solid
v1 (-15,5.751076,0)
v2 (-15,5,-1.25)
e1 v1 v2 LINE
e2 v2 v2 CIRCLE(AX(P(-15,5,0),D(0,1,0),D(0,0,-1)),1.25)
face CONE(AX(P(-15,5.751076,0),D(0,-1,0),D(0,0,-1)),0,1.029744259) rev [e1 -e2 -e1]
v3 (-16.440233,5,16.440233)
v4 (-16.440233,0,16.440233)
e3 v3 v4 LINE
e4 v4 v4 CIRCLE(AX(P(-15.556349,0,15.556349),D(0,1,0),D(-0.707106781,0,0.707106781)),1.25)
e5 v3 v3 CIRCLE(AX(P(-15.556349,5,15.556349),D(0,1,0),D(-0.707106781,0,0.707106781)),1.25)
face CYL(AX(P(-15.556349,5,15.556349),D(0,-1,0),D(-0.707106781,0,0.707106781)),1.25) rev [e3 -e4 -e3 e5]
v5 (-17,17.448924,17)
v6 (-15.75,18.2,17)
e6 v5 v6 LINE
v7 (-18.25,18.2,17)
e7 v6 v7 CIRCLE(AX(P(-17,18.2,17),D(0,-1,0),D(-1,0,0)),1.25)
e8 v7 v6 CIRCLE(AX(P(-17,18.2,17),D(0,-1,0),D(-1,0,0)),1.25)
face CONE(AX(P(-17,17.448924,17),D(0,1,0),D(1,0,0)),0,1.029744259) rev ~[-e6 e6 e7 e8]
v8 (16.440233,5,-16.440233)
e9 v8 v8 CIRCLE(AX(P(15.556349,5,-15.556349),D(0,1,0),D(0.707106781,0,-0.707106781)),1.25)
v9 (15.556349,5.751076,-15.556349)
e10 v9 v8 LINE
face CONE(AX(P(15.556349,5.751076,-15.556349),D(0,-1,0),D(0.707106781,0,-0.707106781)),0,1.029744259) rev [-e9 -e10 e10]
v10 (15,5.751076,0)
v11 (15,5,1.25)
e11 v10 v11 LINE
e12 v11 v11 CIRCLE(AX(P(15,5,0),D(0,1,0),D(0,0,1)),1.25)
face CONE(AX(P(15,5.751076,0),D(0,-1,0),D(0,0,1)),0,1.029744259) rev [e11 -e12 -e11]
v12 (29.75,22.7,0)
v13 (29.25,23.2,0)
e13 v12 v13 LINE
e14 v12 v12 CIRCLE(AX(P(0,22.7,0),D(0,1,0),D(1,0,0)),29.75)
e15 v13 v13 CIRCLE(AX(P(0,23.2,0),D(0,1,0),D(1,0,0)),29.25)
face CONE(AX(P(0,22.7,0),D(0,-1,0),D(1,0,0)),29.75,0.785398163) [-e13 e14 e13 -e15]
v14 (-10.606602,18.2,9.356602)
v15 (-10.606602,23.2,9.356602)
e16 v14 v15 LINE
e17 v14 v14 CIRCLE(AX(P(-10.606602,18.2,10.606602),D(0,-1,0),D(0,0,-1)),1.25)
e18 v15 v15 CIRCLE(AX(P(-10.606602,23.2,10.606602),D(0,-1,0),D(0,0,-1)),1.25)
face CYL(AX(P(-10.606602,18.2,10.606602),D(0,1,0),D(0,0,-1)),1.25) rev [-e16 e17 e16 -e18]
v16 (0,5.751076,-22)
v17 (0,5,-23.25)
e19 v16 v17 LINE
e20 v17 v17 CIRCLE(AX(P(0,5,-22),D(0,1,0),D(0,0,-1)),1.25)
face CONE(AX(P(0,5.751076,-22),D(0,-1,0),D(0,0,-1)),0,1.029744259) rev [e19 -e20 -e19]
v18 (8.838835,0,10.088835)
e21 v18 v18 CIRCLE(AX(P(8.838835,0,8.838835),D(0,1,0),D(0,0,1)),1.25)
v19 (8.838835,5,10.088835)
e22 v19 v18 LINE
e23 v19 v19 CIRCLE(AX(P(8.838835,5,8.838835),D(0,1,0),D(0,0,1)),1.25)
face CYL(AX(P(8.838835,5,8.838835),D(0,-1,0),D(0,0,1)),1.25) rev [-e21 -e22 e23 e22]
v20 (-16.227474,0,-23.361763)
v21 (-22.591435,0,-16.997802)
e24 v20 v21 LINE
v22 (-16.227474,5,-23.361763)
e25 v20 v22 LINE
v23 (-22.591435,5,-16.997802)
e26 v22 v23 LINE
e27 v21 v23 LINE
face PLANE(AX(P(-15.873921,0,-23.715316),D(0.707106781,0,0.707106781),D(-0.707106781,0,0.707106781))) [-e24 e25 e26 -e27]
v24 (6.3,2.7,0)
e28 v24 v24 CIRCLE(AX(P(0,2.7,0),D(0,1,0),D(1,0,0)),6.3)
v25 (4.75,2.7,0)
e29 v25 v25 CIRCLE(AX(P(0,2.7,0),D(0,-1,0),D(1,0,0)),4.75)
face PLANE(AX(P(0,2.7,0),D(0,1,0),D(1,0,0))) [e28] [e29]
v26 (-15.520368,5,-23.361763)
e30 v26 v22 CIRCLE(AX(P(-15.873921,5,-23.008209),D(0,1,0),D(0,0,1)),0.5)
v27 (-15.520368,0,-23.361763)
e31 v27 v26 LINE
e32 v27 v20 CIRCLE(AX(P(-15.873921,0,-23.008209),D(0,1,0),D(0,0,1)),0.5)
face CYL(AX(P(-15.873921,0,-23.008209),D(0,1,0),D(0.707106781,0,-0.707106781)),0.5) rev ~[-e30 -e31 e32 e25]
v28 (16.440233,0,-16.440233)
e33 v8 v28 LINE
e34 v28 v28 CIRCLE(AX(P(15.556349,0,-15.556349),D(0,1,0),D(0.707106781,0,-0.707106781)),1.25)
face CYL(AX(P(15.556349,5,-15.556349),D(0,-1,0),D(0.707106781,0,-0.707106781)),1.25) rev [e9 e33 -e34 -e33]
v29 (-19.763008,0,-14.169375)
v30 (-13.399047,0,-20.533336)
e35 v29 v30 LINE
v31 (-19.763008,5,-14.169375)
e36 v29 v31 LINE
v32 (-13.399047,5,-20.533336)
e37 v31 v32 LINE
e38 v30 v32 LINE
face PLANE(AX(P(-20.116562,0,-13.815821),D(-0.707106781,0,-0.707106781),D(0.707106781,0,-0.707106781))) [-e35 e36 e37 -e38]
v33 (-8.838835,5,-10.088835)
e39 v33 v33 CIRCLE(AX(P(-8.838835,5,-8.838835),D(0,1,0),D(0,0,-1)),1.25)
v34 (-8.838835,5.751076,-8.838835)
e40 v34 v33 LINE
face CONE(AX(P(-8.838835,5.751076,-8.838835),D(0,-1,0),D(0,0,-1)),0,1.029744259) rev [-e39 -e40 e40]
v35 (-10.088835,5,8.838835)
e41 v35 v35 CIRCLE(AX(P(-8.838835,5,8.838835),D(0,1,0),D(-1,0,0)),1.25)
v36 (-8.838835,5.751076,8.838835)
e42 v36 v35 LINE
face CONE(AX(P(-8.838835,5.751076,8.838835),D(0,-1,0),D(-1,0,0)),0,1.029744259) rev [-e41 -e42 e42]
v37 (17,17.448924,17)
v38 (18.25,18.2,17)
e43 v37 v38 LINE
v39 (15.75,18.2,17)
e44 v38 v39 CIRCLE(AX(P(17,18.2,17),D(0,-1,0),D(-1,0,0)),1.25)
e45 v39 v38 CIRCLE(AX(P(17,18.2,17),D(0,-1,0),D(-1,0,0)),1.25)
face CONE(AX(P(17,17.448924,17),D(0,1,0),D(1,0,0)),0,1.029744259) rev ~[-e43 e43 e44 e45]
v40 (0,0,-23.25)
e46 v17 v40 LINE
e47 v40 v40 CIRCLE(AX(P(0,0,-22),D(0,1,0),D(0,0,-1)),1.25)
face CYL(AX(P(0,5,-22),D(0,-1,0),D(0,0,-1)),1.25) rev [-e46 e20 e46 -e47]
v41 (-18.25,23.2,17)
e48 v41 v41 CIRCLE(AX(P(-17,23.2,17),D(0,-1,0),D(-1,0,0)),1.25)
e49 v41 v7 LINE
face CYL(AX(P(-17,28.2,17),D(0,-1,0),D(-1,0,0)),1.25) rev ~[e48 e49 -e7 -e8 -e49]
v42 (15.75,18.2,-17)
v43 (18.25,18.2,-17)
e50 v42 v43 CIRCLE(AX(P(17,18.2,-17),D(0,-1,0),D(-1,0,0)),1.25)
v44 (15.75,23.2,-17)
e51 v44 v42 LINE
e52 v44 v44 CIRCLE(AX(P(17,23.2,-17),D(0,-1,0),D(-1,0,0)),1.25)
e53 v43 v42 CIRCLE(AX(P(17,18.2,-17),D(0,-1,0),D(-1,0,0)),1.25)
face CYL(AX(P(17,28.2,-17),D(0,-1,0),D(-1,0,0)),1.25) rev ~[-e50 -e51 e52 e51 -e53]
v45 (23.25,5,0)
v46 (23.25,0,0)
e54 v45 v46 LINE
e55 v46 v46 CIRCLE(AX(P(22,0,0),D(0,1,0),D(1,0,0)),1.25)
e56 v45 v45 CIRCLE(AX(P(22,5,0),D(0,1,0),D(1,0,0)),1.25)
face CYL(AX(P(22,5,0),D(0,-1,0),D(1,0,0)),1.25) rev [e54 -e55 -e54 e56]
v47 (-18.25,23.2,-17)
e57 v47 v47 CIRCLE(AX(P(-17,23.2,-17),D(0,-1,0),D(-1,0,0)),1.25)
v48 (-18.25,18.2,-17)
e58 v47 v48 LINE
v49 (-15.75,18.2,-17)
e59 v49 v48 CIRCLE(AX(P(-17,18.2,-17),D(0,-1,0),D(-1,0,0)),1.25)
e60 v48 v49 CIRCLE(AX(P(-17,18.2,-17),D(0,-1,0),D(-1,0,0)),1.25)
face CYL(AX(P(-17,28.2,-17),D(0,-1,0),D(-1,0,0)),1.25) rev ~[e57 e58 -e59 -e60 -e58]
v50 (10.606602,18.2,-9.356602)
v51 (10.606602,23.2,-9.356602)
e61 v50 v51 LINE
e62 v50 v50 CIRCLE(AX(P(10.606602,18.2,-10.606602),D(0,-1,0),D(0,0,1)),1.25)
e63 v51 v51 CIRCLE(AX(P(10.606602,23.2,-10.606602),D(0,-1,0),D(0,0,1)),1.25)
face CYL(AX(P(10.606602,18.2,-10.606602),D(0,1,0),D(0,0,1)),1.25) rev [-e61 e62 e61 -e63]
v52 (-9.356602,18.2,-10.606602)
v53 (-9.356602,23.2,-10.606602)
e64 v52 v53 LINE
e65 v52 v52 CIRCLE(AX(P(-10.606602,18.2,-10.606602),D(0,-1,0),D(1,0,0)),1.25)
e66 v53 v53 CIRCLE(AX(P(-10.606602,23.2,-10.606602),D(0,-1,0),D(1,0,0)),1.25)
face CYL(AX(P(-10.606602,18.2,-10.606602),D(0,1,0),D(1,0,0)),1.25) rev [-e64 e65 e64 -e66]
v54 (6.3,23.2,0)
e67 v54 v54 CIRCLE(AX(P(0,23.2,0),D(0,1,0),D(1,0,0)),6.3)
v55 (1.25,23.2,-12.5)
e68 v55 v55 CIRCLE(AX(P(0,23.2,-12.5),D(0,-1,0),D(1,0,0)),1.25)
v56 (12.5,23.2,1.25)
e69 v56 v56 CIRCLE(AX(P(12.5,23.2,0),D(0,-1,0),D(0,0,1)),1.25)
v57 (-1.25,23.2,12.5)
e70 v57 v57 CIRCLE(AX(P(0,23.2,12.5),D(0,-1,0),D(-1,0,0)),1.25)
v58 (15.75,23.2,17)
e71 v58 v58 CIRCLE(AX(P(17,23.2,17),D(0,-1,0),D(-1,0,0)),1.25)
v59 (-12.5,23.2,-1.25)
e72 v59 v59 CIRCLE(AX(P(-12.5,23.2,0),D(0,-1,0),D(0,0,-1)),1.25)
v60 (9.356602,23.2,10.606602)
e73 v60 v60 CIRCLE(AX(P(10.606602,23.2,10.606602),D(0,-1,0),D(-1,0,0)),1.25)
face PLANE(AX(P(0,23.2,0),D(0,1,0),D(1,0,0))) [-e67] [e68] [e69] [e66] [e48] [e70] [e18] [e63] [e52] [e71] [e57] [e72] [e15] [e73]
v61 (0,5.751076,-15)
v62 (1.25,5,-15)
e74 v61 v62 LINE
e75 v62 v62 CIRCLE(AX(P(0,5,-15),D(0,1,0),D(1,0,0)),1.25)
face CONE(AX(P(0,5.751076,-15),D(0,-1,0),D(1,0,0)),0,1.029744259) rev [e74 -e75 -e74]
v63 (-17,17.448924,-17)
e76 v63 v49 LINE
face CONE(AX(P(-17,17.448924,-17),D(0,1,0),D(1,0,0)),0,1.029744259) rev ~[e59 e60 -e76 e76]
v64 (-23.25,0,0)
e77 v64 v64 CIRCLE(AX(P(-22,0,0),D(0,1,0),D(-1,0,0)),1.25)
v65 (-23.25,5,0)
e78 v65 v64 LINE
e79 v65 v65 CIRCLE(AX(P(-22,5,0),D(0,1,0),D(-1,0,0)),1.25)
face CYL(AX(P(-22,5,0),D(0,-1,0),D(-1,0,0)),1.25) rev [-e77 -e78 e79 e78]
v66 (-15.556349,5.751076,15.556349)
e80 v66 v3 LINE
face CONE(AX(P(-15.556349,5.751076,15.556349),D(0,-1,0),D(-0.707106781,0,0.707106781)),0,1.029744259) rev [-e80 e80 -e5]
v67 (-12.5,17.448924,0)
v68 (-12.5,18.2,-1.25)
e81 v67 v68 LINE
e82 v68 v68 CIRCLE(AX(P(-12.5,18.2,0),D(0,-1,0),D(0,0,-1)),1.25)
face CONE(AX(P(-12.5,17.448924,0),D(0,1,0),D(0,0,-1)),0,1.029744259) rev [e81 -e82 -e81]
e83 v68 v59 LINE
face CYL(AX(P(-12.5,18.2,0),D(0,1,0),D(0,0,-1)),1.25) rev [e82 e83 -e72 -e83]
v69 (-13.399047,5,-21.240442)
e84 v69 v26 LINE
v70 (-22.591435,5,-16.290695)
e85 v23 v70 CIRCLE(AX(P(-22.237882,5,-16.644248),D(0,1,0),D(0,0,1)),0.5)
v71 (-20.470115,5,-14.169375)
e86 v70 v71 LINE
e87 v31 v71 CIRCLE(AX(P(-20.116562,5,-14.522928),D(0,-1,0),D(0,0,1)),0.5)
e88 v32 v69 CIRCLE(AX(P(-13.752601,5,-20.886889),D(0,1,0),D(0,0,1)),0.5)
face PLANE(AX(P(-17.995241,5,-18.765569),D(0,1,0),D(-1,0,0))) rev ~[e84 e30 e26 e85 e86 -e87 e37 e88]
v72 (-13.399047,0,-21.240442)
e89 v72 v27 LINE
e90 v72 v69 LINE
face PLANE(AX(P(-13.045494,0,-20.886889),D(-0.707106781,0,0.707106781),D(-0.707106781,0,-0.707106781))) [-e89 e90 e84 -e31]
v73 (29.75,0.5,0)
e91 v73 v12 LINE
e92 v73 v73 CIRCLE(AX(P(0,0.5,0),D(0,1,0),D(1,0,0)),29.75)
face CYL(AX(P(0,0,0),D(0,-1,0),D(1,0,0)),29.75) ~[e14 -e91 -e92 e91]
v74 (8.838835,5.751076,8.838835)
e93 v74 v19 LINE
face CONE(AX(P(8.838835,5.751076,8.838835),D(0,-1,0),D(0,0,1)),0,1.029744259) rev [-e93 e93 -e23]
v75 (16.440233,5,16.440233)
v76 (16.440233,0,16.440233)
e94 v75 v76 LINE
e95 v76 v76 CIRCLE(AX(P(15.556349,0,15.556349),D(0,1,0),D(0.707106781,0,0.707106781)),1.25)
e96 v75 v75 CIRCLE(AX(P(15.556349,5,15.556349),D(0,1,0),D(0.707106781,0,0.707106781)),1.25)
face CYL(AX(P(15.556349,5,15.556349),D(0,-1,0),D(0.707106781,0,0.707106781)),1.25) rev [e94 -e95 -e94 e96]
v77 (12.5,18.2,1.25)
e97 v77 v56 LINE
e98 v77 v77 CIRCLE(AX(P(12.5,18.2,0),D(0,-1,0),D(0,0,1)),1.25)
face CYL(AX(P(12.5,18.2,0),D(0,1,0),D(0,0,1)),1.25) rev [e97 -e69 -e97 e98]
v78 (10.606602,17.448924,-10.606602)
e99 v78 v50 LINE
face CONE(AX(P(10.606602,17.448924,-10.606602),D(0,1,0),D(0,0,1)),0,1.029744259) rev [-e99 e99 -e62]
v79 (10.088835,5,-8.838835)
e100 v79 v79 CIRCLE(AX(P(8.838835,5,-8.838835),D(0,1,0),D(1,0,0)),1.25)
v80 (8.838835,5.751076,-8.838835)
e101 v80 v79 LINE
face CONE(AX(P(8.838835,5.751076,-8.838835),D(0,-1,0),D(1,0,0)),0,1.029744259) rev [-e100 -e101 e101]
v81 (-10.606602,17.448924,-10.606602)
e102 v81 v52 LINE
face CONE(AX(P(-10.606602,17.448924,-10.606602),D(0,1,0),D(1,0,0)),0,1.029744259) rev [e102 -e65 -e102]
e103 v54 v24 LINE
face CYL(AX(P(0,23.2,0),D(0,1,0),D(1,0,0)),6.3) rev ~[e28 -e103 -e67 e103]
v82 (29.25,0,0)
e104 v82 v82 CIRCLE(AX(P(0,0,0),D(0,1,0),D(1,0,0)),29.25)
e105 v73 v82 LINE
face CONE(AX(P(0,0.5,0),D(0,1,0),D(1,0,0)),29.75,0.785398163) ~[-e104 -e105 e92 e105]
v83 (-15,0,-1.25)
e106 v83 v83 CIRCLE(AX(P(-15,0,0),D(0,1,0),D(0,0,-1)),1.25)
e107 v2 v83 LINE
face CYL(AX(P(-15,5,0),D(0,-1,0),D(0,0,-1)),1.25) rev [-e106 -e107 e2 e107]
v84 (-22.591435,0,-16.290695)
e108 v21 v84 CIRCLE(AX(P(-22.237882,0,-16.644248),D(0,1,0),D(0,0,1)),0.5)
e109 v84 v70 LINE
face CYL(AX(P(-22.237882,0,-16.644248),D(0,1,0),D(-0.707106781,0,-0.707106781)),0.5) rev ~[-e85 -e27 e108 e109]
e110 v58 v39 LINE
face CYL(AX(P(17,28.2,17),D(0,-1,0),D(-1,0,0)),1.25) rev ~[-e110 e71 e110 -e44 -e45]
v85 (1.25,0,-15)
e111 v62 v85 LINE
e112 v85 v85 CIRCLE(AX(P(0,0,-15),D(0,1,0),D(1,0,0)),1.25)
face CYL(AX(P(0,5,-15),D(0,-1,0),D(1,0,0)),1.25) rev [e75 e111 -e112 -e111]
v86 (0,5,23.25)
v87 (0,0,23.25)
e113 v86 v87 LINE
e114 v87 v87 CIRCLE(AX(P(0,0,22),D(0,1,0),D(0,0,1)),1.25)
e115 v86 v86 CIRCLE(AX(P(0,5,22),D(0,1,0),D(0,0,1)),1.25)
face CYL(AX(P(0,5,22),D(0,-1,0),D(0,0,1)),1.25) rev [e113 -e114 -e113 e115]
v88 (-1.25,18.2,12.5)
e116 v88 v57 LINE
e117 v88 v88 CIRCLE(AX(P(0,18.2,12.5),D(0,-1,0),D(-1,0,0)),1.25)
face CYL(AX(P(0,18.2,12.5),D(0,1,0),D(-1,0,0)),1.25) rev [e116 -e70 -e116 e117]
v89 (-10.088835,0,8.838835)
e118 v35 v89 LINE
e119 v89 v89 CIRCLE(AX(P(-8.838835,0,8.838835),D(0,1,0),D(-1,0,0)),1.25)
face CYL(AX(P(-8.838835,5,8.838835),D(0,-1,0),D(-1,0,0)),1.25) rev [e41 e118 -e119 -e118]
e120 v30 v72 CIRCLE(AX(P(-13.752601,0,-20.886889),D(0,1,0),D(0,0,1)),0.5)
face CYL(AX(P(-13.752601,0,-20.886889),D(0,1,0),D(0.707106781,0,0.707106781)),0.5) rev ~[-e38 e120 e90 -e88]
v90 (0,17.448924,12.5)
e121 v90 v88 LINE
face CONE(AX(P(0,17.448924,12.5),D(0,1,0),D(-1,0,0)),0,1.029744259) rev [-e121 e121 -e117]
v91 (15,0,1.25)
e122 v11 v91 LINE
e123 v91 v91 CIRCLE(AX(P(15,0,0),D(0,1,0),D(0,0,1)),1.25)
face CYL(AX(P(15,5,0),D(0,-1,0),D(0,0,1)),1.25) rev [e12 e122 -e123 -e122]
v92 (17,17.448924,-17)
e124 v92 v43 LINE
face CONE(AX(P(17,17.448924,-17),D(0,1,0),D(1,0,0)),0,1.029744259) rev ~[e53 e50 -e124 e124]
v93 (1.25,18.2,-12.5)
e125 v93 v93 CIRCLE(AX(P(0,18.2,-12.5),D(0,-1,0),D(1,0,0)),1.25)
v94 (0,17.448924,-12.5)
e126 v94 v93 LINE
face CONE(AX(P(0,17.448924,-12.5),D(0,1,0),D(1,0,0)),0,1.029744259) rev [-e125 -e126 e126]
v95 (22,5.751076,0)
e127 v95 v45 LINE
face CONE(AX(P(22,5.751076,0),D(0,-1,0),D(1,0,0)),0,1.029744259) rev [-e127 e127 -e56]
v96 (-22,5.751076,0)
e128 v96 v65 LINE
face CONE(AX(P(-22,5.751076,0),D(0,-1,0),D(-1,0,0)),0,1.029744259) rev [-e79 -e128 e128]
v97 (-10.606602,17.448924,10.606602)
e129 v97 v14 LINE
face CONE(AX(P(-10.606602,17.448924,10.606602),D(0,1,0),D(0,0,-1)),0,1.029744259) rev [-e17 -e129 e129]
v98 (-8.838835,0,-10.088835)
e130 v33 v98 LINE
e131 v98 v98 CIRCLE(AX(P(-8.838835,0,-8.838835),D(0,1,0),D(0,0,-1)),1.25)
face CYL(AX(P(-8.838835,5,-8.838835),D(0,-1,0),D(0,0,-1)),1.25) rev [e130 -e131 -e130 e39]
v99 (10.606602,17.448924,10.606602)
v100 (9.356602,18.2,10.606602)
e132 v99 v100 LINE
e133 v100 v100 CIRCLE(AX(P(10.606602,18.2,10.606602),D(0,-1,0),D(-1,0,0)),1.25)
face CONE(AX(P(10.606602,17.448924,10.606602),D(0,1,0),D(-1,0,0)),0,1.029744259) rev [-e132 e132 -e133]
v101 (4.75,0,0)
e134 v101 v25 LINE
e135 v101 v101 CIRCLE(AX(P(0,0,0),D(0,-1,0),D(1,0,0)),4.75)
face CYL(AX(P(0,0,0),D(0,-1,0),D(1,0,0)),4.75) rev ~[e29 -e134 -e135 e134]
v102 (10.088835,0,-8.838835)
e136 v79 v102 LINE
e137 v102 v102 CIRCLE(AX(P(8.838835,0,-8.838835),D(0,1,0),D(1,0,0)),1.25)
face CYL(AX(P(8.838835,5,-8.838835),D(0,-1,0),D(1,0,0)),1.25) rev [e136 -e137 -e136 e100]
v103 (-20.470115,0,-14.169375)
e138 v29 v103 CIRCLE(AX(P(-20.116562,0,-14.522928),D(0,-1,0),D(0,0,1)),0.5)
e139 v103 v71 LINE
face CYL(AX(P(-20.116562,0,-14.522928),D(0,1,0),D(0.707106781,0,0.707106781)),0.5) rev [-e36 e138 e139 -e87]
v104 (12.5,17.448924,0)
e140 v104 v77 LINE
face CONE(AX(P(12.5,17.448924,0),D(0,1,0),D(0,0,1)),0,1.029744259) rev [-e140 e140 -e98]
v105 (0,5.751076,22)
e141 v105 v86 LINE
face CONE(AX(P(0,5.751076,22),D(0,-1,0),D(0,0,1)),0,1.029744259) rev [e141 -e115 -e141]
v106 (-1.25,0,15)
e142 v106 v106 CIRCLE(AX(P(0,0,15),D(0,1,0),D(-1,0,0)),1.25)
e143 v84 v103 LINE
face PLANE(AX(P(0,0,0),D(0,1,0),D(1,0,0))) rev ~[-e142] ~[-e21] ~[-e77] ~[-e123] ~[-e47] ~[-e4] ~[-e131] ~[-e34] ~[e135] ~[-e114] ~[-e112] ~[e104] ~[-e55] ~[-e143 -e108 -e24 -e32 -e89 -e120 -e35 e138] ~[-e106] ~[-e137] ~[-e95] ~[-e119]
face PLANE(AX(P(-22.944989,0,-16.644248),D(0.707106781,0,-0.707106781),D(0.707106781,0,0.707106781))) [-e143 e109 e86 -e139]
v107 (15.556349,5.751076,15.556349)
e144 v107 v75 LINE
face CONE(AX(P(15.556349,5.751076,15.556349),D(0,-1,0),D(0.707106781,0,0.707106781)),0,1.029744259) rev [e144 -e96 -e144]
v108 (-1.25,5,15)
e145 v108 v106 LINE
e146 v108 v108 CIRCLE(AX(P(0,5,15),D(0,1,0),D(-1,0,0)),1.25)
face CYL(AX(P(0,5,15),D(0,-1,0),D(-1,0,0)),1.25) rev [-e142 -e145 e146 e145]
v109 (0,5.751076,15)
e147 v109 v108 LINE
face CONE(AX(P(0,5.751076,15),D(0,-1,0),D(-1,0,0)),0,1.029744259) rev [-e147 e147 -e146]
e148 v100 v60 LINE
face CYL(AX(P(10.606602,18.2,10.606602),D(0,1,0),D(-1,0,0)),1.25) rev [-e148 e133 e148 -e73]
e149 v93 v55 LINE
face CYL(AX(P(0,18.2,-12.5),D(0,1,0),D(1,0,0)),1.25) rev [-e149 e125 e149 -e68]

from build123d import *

# Parameters (mm, degrees)
SKETCH1_R                      = 29.75
BOSS_EXTRUDE1_DEPTH            = 23.2
SKETCH2_R                      = 6.3
CUT_EXTRUDE1_DEPTH             = 20.5
SKETCH3_R                      = 4.75
CUT_EXTRUDE2_DEPTH             = 2.7
CHAMFER1_SIZE                  = 0.5
CIRPATTERN1_COUNT              = 7
CIRPATTERN1_ANGLE              = 270
CIRPATTERN2_COUNT              = 4
CIRPATTERN3_COUNT              = 4
CUT_EXTRUDE3_DEPTH             = 5
FILLET1_R                      = 0.5
M3X0_5_TAPPED_HOLE4_D          = 2.5
M3X0_5_TAPPED_HOLE4_DEPTH      = 5
M3X0_5_TAPPED_HOLE4_TIP        = 0.751075774
M3X0_5_TAPPED_HOLE5_AT_2_COUNT = 2
M3X0_5_TAPPED_HOLE5_AT_2_PITCH = 10.774272925
CIRPATTERN4_COUNT              = 4


with BuildPart() as part:
    # Sketch1 → Boss-Extrude1 (new body)
    with BuildSketch(Plane(origin=(0, 0, 0), x_dir=(1, 0, 0), z_dir=(0, 1, 0))):
        Circle(SKETCH1_R)
    extrude(amount=BOSS_EXTRUDE1_DEPTH)

    # Sketch2 → Cut-Extrude1 (cut)
    with BuildSketch(Plane(origin=(0, 23.2, 0), x_dir=(1, 0, 0), z_dir=(0, 1, 0))):
        Circle(SKETCH2_R)
    extrude(amount=-CUT_EXTRUDE1_DEPTH, mode=Mode.SUBTRACT)

    # Sketch3 → Cut-Extrude2 (cut)
    with BuildSketch(Plane.XZ):
        Circle(SKETCH3_R)
    extrude(amount=-CUT_EXTRUDE2_DEPTH, mode=Mode.SUBTRACT)

    # Chamfer1
    chamfer1_edges = [part.edges().sort_by_distance(p)[0] for p in [
        (-29.75, 0, 0),
        (-29.75, 23.2, 0),
    ]]
    chamfer(chamfer1_edges, length=CHAMFER1_SIZE)

    # Sketch5 → M3x0.5 Tapped Hole1 (revolve, cut)
    with BuildSketch(Plane(origin=(0, 0, -22), x_dir=(0, 0, -1), z_dir=(1, 0, 0))):
        Polygon((0, 0), (0, 5.751075774), (1.25, 5), (1.25, 0), align=None)
    m3x0_5_tapped_hole1 = revolve(axis=Axis((0, -6.35, -22), (0, 1, 0)), mode=Mode.SUBTRACT)

    # CirPattern1: M3x0.5 Tapped Hole1 ×7 about axis
    cirpattern1_axis = Axis((0, 0, 0), (0, -1, 0))
    for i in range(1, CIRPATTERN1_COUNT):
        add(m3x0_5_tapped_hole1.rotate(cirpattern1_axis, i * CIRPATTERN1_ANGLE / (CIRPATTERN1_COUNT - 1)), mode=Mode.SUBTRACT)

    # Sketch7 → M3x0.5 Tapped Hole2 (revolve, cut)
    with BuildSketch(Plane(origin=(-8.838834765, 0, -8.838834765), x_dir=(0, 0, -1), z_dir=(1, 0, 0))):
        Polygon((0, 0), (0, 5.751075774), (1.25, 5), (1.25, 0), align=None)
    m3x0_5_tapped_hole2 = revolve(axis=Axis((-8.838834765, -6.35, -8.838834765), (0, 1, 0)), mode=Mode.SUBTRACT)

    # CirPattern2: M3x0.5 Tapped Hole2 ×4 about axis
    cirpattern2_axis = Axis((0, 0, 0), (0, 1, 0))
    for i in range(1, CIRPATTERN2_COUNT):
        add(m3x0_5_tapped_hole2.rotate(cirpattern2_axis, i * 360 / CIRPATTERN2_COUNT), mode=Mode.SUBTRACT)

    # Sketch9 → M3x0.5 Tapped Hole3 (revolve, cut)
    with BuildSketch(Plane(origin=(-15, 0, 0), x_dir=(0, 0, -1), z_dir=(1, 0, 0))):
        Polygon((0, 0), (0, 5.751075774), (1.25, 5), (1.25, 0), align=None)
    m3x0_5_tapped_hole3 = revolve(axis=Axis((-15, -6.35, 0), (0, 1, 0)), mode=Mode.SUBTRACT)

    # CirPattern3: M3x0.5 Tapped Hole3 ×4 about axis
    cirpattern3_axis = Axis((0, 0, 0), (0, 1, 0))
    for i in range(1, CIRPATTERN3_COUNT):
        add(m3x0_5_tapped_hole3.rotate(cirpattern3_axis, i * 360 / CIRPATTERN3_COUNT), mode=Mode.SUBTRACT)

    # Sketch10 → Cut-Extrude3 (cut)
    with BuildSketch(Plane.XZ):
        Polygon((-20.11656159, -13.815821112), (-13.045493778, -20.886888923), (-15.873920903, -23.715316048), (-22.944988715, -16.644248236), align=None)
    extrude(amount=-CUT_EXTRUDE3_DEPTH, mode=Mode.SUBTRACT)

    # Fillet1
    fillet1_edges = [part.edges().sort_by_distance(p)[0] for p in [
        (-22.944988715, 2.5, -16.644248236),
        (-20.11656159, 2.5, -13.815821112),
        (-13.045493778, 2.5, -20.886888923),
        (-15.873920903, 2.5, -23.715316048),
    ]]
    fillet(fillet1_edges, radius=FILLET1_R)

    # M3x0.5 Tapped Hole4
    with Locations(Plane(origin=(0, 23.2, 0), x_dir=(1, 0, 0), z_dir=(0, 1, 0))):
        with Locations((-17, 17), (-17, -17), (17, -17), (17, 17)):
            Hole(M3X0_5_TAPPED_HOLE4_D / 2, depth=M3X0_5_TAPPED_HOLE4_DEPTH)
            with Locations((0, 0, -(M3X0_5_TAPPED_HOLE4_DEPTH + M3X0_5_TAPPED_HOLE4_TIP / 2))):  # 118° drill point
                Cone(0, M3X0_5_TAPPED_HOLE4_D / 2, M3X0_5_TAPPED_HOLE4_TIP, mode=Mode.SUBTRACT)

    # Sketch14 → M3x0.5 Tapped Hole5 (revolve, cut)
    with BuildSketch(Plane(origin=(12.5, 23.2, 0), x_dir=(0, 0, 1), z_dir=(1, 0, 0))):
        Polygon((0, 0), (0, 5.751075774), (1.25, 5), (1.25, 0), align=None)
    m3x0_5_tapped_hole5 = revolve(axis=Axis((12.5, 29.55, 0), (0, -1, 0)), mode=Mode.SUBTRACT)

    # M3x0.5 Tapped Hole5 at 2: M3x0.5 Tapped Hole5 ×2
    with Locations(*[Vector(-0.175733276, 0, -0.984437817) * (i * M3X0_5_TAPPED_HOLE5_AT_2_PITCH) for i in range(1, M3X0_5_TAPPED_HOLE5_AT_2_COUNT)]):
        add(m3x0_5_tapped_hole5, mode=Mode.SUBTRACT)

    # CirPattern4: M3x0.5 Tapped Hole5 ×4 about axis
    cirpattern4_axis = Axis((0, 0, 0), (0, 1, 0))
    for i in range(1, CIRPATTERN4_COUNT):
        add(m3x0_5_tapped_hole5.rotate(cirpattern4_axis, i * 360 / CIRPATTERN4_COUNT), mode=Mode.SUBTRACT)

    # CirPattern4 copy 1 sketch → CirPattern4 copy 1 (revolve, cut)
    with BuildSketch(Plane(origin=(-10.606601718, 23.2, -10.606601718), x_dir=(1, 0, 0), z_dir=(0, 0, -1))):
        Polygon((0, 0), (0, 5.751075774), (1.25, 5), (1.25, 0), align=None)
    revolve(axis=Axis((-10.606601718, 29.55, -10.606601718), (0, -1, 0)), mode=Mode.SUBTRACT)

    # CirPattern4 copy 2 sketch → CirPattern4 copy 2 (revolve, cut)
    with BuildSketch(Plane(origin=(-10.606601718, 23.2, 10.606601718), x_dir=(0, 0, -1), z_dir=(-1, 0, 0))):
        Polygon((0, 0), (0, 5.751075774), (1.25, 5), (1.25, 0), align=None)
    revolve(axis=Axis((-10.606601718, 29.55, 10.606601718), (0, -1, 0)), mode=Mode.SUBTRACT)

    # CirPattern4 copy 3 sketch → CirPattern4 copy 3 (revolve, cut)
    with BuildSketch(Plane(origin=(10.606601718, 23.2, 10.606601718), x_dir=(-1, 0, 0), z_dir=(0, 0, 1))):
        Polygon((0, 0), (0, 5.751075774), (1.25, 5), (1.25, 0), align=None)
    revolve(axis=Axis((10.606601718, 29.55, 10.606601718), (0, -1, 0)), mode=Mode.SUBTRACT)


solid = part.part
